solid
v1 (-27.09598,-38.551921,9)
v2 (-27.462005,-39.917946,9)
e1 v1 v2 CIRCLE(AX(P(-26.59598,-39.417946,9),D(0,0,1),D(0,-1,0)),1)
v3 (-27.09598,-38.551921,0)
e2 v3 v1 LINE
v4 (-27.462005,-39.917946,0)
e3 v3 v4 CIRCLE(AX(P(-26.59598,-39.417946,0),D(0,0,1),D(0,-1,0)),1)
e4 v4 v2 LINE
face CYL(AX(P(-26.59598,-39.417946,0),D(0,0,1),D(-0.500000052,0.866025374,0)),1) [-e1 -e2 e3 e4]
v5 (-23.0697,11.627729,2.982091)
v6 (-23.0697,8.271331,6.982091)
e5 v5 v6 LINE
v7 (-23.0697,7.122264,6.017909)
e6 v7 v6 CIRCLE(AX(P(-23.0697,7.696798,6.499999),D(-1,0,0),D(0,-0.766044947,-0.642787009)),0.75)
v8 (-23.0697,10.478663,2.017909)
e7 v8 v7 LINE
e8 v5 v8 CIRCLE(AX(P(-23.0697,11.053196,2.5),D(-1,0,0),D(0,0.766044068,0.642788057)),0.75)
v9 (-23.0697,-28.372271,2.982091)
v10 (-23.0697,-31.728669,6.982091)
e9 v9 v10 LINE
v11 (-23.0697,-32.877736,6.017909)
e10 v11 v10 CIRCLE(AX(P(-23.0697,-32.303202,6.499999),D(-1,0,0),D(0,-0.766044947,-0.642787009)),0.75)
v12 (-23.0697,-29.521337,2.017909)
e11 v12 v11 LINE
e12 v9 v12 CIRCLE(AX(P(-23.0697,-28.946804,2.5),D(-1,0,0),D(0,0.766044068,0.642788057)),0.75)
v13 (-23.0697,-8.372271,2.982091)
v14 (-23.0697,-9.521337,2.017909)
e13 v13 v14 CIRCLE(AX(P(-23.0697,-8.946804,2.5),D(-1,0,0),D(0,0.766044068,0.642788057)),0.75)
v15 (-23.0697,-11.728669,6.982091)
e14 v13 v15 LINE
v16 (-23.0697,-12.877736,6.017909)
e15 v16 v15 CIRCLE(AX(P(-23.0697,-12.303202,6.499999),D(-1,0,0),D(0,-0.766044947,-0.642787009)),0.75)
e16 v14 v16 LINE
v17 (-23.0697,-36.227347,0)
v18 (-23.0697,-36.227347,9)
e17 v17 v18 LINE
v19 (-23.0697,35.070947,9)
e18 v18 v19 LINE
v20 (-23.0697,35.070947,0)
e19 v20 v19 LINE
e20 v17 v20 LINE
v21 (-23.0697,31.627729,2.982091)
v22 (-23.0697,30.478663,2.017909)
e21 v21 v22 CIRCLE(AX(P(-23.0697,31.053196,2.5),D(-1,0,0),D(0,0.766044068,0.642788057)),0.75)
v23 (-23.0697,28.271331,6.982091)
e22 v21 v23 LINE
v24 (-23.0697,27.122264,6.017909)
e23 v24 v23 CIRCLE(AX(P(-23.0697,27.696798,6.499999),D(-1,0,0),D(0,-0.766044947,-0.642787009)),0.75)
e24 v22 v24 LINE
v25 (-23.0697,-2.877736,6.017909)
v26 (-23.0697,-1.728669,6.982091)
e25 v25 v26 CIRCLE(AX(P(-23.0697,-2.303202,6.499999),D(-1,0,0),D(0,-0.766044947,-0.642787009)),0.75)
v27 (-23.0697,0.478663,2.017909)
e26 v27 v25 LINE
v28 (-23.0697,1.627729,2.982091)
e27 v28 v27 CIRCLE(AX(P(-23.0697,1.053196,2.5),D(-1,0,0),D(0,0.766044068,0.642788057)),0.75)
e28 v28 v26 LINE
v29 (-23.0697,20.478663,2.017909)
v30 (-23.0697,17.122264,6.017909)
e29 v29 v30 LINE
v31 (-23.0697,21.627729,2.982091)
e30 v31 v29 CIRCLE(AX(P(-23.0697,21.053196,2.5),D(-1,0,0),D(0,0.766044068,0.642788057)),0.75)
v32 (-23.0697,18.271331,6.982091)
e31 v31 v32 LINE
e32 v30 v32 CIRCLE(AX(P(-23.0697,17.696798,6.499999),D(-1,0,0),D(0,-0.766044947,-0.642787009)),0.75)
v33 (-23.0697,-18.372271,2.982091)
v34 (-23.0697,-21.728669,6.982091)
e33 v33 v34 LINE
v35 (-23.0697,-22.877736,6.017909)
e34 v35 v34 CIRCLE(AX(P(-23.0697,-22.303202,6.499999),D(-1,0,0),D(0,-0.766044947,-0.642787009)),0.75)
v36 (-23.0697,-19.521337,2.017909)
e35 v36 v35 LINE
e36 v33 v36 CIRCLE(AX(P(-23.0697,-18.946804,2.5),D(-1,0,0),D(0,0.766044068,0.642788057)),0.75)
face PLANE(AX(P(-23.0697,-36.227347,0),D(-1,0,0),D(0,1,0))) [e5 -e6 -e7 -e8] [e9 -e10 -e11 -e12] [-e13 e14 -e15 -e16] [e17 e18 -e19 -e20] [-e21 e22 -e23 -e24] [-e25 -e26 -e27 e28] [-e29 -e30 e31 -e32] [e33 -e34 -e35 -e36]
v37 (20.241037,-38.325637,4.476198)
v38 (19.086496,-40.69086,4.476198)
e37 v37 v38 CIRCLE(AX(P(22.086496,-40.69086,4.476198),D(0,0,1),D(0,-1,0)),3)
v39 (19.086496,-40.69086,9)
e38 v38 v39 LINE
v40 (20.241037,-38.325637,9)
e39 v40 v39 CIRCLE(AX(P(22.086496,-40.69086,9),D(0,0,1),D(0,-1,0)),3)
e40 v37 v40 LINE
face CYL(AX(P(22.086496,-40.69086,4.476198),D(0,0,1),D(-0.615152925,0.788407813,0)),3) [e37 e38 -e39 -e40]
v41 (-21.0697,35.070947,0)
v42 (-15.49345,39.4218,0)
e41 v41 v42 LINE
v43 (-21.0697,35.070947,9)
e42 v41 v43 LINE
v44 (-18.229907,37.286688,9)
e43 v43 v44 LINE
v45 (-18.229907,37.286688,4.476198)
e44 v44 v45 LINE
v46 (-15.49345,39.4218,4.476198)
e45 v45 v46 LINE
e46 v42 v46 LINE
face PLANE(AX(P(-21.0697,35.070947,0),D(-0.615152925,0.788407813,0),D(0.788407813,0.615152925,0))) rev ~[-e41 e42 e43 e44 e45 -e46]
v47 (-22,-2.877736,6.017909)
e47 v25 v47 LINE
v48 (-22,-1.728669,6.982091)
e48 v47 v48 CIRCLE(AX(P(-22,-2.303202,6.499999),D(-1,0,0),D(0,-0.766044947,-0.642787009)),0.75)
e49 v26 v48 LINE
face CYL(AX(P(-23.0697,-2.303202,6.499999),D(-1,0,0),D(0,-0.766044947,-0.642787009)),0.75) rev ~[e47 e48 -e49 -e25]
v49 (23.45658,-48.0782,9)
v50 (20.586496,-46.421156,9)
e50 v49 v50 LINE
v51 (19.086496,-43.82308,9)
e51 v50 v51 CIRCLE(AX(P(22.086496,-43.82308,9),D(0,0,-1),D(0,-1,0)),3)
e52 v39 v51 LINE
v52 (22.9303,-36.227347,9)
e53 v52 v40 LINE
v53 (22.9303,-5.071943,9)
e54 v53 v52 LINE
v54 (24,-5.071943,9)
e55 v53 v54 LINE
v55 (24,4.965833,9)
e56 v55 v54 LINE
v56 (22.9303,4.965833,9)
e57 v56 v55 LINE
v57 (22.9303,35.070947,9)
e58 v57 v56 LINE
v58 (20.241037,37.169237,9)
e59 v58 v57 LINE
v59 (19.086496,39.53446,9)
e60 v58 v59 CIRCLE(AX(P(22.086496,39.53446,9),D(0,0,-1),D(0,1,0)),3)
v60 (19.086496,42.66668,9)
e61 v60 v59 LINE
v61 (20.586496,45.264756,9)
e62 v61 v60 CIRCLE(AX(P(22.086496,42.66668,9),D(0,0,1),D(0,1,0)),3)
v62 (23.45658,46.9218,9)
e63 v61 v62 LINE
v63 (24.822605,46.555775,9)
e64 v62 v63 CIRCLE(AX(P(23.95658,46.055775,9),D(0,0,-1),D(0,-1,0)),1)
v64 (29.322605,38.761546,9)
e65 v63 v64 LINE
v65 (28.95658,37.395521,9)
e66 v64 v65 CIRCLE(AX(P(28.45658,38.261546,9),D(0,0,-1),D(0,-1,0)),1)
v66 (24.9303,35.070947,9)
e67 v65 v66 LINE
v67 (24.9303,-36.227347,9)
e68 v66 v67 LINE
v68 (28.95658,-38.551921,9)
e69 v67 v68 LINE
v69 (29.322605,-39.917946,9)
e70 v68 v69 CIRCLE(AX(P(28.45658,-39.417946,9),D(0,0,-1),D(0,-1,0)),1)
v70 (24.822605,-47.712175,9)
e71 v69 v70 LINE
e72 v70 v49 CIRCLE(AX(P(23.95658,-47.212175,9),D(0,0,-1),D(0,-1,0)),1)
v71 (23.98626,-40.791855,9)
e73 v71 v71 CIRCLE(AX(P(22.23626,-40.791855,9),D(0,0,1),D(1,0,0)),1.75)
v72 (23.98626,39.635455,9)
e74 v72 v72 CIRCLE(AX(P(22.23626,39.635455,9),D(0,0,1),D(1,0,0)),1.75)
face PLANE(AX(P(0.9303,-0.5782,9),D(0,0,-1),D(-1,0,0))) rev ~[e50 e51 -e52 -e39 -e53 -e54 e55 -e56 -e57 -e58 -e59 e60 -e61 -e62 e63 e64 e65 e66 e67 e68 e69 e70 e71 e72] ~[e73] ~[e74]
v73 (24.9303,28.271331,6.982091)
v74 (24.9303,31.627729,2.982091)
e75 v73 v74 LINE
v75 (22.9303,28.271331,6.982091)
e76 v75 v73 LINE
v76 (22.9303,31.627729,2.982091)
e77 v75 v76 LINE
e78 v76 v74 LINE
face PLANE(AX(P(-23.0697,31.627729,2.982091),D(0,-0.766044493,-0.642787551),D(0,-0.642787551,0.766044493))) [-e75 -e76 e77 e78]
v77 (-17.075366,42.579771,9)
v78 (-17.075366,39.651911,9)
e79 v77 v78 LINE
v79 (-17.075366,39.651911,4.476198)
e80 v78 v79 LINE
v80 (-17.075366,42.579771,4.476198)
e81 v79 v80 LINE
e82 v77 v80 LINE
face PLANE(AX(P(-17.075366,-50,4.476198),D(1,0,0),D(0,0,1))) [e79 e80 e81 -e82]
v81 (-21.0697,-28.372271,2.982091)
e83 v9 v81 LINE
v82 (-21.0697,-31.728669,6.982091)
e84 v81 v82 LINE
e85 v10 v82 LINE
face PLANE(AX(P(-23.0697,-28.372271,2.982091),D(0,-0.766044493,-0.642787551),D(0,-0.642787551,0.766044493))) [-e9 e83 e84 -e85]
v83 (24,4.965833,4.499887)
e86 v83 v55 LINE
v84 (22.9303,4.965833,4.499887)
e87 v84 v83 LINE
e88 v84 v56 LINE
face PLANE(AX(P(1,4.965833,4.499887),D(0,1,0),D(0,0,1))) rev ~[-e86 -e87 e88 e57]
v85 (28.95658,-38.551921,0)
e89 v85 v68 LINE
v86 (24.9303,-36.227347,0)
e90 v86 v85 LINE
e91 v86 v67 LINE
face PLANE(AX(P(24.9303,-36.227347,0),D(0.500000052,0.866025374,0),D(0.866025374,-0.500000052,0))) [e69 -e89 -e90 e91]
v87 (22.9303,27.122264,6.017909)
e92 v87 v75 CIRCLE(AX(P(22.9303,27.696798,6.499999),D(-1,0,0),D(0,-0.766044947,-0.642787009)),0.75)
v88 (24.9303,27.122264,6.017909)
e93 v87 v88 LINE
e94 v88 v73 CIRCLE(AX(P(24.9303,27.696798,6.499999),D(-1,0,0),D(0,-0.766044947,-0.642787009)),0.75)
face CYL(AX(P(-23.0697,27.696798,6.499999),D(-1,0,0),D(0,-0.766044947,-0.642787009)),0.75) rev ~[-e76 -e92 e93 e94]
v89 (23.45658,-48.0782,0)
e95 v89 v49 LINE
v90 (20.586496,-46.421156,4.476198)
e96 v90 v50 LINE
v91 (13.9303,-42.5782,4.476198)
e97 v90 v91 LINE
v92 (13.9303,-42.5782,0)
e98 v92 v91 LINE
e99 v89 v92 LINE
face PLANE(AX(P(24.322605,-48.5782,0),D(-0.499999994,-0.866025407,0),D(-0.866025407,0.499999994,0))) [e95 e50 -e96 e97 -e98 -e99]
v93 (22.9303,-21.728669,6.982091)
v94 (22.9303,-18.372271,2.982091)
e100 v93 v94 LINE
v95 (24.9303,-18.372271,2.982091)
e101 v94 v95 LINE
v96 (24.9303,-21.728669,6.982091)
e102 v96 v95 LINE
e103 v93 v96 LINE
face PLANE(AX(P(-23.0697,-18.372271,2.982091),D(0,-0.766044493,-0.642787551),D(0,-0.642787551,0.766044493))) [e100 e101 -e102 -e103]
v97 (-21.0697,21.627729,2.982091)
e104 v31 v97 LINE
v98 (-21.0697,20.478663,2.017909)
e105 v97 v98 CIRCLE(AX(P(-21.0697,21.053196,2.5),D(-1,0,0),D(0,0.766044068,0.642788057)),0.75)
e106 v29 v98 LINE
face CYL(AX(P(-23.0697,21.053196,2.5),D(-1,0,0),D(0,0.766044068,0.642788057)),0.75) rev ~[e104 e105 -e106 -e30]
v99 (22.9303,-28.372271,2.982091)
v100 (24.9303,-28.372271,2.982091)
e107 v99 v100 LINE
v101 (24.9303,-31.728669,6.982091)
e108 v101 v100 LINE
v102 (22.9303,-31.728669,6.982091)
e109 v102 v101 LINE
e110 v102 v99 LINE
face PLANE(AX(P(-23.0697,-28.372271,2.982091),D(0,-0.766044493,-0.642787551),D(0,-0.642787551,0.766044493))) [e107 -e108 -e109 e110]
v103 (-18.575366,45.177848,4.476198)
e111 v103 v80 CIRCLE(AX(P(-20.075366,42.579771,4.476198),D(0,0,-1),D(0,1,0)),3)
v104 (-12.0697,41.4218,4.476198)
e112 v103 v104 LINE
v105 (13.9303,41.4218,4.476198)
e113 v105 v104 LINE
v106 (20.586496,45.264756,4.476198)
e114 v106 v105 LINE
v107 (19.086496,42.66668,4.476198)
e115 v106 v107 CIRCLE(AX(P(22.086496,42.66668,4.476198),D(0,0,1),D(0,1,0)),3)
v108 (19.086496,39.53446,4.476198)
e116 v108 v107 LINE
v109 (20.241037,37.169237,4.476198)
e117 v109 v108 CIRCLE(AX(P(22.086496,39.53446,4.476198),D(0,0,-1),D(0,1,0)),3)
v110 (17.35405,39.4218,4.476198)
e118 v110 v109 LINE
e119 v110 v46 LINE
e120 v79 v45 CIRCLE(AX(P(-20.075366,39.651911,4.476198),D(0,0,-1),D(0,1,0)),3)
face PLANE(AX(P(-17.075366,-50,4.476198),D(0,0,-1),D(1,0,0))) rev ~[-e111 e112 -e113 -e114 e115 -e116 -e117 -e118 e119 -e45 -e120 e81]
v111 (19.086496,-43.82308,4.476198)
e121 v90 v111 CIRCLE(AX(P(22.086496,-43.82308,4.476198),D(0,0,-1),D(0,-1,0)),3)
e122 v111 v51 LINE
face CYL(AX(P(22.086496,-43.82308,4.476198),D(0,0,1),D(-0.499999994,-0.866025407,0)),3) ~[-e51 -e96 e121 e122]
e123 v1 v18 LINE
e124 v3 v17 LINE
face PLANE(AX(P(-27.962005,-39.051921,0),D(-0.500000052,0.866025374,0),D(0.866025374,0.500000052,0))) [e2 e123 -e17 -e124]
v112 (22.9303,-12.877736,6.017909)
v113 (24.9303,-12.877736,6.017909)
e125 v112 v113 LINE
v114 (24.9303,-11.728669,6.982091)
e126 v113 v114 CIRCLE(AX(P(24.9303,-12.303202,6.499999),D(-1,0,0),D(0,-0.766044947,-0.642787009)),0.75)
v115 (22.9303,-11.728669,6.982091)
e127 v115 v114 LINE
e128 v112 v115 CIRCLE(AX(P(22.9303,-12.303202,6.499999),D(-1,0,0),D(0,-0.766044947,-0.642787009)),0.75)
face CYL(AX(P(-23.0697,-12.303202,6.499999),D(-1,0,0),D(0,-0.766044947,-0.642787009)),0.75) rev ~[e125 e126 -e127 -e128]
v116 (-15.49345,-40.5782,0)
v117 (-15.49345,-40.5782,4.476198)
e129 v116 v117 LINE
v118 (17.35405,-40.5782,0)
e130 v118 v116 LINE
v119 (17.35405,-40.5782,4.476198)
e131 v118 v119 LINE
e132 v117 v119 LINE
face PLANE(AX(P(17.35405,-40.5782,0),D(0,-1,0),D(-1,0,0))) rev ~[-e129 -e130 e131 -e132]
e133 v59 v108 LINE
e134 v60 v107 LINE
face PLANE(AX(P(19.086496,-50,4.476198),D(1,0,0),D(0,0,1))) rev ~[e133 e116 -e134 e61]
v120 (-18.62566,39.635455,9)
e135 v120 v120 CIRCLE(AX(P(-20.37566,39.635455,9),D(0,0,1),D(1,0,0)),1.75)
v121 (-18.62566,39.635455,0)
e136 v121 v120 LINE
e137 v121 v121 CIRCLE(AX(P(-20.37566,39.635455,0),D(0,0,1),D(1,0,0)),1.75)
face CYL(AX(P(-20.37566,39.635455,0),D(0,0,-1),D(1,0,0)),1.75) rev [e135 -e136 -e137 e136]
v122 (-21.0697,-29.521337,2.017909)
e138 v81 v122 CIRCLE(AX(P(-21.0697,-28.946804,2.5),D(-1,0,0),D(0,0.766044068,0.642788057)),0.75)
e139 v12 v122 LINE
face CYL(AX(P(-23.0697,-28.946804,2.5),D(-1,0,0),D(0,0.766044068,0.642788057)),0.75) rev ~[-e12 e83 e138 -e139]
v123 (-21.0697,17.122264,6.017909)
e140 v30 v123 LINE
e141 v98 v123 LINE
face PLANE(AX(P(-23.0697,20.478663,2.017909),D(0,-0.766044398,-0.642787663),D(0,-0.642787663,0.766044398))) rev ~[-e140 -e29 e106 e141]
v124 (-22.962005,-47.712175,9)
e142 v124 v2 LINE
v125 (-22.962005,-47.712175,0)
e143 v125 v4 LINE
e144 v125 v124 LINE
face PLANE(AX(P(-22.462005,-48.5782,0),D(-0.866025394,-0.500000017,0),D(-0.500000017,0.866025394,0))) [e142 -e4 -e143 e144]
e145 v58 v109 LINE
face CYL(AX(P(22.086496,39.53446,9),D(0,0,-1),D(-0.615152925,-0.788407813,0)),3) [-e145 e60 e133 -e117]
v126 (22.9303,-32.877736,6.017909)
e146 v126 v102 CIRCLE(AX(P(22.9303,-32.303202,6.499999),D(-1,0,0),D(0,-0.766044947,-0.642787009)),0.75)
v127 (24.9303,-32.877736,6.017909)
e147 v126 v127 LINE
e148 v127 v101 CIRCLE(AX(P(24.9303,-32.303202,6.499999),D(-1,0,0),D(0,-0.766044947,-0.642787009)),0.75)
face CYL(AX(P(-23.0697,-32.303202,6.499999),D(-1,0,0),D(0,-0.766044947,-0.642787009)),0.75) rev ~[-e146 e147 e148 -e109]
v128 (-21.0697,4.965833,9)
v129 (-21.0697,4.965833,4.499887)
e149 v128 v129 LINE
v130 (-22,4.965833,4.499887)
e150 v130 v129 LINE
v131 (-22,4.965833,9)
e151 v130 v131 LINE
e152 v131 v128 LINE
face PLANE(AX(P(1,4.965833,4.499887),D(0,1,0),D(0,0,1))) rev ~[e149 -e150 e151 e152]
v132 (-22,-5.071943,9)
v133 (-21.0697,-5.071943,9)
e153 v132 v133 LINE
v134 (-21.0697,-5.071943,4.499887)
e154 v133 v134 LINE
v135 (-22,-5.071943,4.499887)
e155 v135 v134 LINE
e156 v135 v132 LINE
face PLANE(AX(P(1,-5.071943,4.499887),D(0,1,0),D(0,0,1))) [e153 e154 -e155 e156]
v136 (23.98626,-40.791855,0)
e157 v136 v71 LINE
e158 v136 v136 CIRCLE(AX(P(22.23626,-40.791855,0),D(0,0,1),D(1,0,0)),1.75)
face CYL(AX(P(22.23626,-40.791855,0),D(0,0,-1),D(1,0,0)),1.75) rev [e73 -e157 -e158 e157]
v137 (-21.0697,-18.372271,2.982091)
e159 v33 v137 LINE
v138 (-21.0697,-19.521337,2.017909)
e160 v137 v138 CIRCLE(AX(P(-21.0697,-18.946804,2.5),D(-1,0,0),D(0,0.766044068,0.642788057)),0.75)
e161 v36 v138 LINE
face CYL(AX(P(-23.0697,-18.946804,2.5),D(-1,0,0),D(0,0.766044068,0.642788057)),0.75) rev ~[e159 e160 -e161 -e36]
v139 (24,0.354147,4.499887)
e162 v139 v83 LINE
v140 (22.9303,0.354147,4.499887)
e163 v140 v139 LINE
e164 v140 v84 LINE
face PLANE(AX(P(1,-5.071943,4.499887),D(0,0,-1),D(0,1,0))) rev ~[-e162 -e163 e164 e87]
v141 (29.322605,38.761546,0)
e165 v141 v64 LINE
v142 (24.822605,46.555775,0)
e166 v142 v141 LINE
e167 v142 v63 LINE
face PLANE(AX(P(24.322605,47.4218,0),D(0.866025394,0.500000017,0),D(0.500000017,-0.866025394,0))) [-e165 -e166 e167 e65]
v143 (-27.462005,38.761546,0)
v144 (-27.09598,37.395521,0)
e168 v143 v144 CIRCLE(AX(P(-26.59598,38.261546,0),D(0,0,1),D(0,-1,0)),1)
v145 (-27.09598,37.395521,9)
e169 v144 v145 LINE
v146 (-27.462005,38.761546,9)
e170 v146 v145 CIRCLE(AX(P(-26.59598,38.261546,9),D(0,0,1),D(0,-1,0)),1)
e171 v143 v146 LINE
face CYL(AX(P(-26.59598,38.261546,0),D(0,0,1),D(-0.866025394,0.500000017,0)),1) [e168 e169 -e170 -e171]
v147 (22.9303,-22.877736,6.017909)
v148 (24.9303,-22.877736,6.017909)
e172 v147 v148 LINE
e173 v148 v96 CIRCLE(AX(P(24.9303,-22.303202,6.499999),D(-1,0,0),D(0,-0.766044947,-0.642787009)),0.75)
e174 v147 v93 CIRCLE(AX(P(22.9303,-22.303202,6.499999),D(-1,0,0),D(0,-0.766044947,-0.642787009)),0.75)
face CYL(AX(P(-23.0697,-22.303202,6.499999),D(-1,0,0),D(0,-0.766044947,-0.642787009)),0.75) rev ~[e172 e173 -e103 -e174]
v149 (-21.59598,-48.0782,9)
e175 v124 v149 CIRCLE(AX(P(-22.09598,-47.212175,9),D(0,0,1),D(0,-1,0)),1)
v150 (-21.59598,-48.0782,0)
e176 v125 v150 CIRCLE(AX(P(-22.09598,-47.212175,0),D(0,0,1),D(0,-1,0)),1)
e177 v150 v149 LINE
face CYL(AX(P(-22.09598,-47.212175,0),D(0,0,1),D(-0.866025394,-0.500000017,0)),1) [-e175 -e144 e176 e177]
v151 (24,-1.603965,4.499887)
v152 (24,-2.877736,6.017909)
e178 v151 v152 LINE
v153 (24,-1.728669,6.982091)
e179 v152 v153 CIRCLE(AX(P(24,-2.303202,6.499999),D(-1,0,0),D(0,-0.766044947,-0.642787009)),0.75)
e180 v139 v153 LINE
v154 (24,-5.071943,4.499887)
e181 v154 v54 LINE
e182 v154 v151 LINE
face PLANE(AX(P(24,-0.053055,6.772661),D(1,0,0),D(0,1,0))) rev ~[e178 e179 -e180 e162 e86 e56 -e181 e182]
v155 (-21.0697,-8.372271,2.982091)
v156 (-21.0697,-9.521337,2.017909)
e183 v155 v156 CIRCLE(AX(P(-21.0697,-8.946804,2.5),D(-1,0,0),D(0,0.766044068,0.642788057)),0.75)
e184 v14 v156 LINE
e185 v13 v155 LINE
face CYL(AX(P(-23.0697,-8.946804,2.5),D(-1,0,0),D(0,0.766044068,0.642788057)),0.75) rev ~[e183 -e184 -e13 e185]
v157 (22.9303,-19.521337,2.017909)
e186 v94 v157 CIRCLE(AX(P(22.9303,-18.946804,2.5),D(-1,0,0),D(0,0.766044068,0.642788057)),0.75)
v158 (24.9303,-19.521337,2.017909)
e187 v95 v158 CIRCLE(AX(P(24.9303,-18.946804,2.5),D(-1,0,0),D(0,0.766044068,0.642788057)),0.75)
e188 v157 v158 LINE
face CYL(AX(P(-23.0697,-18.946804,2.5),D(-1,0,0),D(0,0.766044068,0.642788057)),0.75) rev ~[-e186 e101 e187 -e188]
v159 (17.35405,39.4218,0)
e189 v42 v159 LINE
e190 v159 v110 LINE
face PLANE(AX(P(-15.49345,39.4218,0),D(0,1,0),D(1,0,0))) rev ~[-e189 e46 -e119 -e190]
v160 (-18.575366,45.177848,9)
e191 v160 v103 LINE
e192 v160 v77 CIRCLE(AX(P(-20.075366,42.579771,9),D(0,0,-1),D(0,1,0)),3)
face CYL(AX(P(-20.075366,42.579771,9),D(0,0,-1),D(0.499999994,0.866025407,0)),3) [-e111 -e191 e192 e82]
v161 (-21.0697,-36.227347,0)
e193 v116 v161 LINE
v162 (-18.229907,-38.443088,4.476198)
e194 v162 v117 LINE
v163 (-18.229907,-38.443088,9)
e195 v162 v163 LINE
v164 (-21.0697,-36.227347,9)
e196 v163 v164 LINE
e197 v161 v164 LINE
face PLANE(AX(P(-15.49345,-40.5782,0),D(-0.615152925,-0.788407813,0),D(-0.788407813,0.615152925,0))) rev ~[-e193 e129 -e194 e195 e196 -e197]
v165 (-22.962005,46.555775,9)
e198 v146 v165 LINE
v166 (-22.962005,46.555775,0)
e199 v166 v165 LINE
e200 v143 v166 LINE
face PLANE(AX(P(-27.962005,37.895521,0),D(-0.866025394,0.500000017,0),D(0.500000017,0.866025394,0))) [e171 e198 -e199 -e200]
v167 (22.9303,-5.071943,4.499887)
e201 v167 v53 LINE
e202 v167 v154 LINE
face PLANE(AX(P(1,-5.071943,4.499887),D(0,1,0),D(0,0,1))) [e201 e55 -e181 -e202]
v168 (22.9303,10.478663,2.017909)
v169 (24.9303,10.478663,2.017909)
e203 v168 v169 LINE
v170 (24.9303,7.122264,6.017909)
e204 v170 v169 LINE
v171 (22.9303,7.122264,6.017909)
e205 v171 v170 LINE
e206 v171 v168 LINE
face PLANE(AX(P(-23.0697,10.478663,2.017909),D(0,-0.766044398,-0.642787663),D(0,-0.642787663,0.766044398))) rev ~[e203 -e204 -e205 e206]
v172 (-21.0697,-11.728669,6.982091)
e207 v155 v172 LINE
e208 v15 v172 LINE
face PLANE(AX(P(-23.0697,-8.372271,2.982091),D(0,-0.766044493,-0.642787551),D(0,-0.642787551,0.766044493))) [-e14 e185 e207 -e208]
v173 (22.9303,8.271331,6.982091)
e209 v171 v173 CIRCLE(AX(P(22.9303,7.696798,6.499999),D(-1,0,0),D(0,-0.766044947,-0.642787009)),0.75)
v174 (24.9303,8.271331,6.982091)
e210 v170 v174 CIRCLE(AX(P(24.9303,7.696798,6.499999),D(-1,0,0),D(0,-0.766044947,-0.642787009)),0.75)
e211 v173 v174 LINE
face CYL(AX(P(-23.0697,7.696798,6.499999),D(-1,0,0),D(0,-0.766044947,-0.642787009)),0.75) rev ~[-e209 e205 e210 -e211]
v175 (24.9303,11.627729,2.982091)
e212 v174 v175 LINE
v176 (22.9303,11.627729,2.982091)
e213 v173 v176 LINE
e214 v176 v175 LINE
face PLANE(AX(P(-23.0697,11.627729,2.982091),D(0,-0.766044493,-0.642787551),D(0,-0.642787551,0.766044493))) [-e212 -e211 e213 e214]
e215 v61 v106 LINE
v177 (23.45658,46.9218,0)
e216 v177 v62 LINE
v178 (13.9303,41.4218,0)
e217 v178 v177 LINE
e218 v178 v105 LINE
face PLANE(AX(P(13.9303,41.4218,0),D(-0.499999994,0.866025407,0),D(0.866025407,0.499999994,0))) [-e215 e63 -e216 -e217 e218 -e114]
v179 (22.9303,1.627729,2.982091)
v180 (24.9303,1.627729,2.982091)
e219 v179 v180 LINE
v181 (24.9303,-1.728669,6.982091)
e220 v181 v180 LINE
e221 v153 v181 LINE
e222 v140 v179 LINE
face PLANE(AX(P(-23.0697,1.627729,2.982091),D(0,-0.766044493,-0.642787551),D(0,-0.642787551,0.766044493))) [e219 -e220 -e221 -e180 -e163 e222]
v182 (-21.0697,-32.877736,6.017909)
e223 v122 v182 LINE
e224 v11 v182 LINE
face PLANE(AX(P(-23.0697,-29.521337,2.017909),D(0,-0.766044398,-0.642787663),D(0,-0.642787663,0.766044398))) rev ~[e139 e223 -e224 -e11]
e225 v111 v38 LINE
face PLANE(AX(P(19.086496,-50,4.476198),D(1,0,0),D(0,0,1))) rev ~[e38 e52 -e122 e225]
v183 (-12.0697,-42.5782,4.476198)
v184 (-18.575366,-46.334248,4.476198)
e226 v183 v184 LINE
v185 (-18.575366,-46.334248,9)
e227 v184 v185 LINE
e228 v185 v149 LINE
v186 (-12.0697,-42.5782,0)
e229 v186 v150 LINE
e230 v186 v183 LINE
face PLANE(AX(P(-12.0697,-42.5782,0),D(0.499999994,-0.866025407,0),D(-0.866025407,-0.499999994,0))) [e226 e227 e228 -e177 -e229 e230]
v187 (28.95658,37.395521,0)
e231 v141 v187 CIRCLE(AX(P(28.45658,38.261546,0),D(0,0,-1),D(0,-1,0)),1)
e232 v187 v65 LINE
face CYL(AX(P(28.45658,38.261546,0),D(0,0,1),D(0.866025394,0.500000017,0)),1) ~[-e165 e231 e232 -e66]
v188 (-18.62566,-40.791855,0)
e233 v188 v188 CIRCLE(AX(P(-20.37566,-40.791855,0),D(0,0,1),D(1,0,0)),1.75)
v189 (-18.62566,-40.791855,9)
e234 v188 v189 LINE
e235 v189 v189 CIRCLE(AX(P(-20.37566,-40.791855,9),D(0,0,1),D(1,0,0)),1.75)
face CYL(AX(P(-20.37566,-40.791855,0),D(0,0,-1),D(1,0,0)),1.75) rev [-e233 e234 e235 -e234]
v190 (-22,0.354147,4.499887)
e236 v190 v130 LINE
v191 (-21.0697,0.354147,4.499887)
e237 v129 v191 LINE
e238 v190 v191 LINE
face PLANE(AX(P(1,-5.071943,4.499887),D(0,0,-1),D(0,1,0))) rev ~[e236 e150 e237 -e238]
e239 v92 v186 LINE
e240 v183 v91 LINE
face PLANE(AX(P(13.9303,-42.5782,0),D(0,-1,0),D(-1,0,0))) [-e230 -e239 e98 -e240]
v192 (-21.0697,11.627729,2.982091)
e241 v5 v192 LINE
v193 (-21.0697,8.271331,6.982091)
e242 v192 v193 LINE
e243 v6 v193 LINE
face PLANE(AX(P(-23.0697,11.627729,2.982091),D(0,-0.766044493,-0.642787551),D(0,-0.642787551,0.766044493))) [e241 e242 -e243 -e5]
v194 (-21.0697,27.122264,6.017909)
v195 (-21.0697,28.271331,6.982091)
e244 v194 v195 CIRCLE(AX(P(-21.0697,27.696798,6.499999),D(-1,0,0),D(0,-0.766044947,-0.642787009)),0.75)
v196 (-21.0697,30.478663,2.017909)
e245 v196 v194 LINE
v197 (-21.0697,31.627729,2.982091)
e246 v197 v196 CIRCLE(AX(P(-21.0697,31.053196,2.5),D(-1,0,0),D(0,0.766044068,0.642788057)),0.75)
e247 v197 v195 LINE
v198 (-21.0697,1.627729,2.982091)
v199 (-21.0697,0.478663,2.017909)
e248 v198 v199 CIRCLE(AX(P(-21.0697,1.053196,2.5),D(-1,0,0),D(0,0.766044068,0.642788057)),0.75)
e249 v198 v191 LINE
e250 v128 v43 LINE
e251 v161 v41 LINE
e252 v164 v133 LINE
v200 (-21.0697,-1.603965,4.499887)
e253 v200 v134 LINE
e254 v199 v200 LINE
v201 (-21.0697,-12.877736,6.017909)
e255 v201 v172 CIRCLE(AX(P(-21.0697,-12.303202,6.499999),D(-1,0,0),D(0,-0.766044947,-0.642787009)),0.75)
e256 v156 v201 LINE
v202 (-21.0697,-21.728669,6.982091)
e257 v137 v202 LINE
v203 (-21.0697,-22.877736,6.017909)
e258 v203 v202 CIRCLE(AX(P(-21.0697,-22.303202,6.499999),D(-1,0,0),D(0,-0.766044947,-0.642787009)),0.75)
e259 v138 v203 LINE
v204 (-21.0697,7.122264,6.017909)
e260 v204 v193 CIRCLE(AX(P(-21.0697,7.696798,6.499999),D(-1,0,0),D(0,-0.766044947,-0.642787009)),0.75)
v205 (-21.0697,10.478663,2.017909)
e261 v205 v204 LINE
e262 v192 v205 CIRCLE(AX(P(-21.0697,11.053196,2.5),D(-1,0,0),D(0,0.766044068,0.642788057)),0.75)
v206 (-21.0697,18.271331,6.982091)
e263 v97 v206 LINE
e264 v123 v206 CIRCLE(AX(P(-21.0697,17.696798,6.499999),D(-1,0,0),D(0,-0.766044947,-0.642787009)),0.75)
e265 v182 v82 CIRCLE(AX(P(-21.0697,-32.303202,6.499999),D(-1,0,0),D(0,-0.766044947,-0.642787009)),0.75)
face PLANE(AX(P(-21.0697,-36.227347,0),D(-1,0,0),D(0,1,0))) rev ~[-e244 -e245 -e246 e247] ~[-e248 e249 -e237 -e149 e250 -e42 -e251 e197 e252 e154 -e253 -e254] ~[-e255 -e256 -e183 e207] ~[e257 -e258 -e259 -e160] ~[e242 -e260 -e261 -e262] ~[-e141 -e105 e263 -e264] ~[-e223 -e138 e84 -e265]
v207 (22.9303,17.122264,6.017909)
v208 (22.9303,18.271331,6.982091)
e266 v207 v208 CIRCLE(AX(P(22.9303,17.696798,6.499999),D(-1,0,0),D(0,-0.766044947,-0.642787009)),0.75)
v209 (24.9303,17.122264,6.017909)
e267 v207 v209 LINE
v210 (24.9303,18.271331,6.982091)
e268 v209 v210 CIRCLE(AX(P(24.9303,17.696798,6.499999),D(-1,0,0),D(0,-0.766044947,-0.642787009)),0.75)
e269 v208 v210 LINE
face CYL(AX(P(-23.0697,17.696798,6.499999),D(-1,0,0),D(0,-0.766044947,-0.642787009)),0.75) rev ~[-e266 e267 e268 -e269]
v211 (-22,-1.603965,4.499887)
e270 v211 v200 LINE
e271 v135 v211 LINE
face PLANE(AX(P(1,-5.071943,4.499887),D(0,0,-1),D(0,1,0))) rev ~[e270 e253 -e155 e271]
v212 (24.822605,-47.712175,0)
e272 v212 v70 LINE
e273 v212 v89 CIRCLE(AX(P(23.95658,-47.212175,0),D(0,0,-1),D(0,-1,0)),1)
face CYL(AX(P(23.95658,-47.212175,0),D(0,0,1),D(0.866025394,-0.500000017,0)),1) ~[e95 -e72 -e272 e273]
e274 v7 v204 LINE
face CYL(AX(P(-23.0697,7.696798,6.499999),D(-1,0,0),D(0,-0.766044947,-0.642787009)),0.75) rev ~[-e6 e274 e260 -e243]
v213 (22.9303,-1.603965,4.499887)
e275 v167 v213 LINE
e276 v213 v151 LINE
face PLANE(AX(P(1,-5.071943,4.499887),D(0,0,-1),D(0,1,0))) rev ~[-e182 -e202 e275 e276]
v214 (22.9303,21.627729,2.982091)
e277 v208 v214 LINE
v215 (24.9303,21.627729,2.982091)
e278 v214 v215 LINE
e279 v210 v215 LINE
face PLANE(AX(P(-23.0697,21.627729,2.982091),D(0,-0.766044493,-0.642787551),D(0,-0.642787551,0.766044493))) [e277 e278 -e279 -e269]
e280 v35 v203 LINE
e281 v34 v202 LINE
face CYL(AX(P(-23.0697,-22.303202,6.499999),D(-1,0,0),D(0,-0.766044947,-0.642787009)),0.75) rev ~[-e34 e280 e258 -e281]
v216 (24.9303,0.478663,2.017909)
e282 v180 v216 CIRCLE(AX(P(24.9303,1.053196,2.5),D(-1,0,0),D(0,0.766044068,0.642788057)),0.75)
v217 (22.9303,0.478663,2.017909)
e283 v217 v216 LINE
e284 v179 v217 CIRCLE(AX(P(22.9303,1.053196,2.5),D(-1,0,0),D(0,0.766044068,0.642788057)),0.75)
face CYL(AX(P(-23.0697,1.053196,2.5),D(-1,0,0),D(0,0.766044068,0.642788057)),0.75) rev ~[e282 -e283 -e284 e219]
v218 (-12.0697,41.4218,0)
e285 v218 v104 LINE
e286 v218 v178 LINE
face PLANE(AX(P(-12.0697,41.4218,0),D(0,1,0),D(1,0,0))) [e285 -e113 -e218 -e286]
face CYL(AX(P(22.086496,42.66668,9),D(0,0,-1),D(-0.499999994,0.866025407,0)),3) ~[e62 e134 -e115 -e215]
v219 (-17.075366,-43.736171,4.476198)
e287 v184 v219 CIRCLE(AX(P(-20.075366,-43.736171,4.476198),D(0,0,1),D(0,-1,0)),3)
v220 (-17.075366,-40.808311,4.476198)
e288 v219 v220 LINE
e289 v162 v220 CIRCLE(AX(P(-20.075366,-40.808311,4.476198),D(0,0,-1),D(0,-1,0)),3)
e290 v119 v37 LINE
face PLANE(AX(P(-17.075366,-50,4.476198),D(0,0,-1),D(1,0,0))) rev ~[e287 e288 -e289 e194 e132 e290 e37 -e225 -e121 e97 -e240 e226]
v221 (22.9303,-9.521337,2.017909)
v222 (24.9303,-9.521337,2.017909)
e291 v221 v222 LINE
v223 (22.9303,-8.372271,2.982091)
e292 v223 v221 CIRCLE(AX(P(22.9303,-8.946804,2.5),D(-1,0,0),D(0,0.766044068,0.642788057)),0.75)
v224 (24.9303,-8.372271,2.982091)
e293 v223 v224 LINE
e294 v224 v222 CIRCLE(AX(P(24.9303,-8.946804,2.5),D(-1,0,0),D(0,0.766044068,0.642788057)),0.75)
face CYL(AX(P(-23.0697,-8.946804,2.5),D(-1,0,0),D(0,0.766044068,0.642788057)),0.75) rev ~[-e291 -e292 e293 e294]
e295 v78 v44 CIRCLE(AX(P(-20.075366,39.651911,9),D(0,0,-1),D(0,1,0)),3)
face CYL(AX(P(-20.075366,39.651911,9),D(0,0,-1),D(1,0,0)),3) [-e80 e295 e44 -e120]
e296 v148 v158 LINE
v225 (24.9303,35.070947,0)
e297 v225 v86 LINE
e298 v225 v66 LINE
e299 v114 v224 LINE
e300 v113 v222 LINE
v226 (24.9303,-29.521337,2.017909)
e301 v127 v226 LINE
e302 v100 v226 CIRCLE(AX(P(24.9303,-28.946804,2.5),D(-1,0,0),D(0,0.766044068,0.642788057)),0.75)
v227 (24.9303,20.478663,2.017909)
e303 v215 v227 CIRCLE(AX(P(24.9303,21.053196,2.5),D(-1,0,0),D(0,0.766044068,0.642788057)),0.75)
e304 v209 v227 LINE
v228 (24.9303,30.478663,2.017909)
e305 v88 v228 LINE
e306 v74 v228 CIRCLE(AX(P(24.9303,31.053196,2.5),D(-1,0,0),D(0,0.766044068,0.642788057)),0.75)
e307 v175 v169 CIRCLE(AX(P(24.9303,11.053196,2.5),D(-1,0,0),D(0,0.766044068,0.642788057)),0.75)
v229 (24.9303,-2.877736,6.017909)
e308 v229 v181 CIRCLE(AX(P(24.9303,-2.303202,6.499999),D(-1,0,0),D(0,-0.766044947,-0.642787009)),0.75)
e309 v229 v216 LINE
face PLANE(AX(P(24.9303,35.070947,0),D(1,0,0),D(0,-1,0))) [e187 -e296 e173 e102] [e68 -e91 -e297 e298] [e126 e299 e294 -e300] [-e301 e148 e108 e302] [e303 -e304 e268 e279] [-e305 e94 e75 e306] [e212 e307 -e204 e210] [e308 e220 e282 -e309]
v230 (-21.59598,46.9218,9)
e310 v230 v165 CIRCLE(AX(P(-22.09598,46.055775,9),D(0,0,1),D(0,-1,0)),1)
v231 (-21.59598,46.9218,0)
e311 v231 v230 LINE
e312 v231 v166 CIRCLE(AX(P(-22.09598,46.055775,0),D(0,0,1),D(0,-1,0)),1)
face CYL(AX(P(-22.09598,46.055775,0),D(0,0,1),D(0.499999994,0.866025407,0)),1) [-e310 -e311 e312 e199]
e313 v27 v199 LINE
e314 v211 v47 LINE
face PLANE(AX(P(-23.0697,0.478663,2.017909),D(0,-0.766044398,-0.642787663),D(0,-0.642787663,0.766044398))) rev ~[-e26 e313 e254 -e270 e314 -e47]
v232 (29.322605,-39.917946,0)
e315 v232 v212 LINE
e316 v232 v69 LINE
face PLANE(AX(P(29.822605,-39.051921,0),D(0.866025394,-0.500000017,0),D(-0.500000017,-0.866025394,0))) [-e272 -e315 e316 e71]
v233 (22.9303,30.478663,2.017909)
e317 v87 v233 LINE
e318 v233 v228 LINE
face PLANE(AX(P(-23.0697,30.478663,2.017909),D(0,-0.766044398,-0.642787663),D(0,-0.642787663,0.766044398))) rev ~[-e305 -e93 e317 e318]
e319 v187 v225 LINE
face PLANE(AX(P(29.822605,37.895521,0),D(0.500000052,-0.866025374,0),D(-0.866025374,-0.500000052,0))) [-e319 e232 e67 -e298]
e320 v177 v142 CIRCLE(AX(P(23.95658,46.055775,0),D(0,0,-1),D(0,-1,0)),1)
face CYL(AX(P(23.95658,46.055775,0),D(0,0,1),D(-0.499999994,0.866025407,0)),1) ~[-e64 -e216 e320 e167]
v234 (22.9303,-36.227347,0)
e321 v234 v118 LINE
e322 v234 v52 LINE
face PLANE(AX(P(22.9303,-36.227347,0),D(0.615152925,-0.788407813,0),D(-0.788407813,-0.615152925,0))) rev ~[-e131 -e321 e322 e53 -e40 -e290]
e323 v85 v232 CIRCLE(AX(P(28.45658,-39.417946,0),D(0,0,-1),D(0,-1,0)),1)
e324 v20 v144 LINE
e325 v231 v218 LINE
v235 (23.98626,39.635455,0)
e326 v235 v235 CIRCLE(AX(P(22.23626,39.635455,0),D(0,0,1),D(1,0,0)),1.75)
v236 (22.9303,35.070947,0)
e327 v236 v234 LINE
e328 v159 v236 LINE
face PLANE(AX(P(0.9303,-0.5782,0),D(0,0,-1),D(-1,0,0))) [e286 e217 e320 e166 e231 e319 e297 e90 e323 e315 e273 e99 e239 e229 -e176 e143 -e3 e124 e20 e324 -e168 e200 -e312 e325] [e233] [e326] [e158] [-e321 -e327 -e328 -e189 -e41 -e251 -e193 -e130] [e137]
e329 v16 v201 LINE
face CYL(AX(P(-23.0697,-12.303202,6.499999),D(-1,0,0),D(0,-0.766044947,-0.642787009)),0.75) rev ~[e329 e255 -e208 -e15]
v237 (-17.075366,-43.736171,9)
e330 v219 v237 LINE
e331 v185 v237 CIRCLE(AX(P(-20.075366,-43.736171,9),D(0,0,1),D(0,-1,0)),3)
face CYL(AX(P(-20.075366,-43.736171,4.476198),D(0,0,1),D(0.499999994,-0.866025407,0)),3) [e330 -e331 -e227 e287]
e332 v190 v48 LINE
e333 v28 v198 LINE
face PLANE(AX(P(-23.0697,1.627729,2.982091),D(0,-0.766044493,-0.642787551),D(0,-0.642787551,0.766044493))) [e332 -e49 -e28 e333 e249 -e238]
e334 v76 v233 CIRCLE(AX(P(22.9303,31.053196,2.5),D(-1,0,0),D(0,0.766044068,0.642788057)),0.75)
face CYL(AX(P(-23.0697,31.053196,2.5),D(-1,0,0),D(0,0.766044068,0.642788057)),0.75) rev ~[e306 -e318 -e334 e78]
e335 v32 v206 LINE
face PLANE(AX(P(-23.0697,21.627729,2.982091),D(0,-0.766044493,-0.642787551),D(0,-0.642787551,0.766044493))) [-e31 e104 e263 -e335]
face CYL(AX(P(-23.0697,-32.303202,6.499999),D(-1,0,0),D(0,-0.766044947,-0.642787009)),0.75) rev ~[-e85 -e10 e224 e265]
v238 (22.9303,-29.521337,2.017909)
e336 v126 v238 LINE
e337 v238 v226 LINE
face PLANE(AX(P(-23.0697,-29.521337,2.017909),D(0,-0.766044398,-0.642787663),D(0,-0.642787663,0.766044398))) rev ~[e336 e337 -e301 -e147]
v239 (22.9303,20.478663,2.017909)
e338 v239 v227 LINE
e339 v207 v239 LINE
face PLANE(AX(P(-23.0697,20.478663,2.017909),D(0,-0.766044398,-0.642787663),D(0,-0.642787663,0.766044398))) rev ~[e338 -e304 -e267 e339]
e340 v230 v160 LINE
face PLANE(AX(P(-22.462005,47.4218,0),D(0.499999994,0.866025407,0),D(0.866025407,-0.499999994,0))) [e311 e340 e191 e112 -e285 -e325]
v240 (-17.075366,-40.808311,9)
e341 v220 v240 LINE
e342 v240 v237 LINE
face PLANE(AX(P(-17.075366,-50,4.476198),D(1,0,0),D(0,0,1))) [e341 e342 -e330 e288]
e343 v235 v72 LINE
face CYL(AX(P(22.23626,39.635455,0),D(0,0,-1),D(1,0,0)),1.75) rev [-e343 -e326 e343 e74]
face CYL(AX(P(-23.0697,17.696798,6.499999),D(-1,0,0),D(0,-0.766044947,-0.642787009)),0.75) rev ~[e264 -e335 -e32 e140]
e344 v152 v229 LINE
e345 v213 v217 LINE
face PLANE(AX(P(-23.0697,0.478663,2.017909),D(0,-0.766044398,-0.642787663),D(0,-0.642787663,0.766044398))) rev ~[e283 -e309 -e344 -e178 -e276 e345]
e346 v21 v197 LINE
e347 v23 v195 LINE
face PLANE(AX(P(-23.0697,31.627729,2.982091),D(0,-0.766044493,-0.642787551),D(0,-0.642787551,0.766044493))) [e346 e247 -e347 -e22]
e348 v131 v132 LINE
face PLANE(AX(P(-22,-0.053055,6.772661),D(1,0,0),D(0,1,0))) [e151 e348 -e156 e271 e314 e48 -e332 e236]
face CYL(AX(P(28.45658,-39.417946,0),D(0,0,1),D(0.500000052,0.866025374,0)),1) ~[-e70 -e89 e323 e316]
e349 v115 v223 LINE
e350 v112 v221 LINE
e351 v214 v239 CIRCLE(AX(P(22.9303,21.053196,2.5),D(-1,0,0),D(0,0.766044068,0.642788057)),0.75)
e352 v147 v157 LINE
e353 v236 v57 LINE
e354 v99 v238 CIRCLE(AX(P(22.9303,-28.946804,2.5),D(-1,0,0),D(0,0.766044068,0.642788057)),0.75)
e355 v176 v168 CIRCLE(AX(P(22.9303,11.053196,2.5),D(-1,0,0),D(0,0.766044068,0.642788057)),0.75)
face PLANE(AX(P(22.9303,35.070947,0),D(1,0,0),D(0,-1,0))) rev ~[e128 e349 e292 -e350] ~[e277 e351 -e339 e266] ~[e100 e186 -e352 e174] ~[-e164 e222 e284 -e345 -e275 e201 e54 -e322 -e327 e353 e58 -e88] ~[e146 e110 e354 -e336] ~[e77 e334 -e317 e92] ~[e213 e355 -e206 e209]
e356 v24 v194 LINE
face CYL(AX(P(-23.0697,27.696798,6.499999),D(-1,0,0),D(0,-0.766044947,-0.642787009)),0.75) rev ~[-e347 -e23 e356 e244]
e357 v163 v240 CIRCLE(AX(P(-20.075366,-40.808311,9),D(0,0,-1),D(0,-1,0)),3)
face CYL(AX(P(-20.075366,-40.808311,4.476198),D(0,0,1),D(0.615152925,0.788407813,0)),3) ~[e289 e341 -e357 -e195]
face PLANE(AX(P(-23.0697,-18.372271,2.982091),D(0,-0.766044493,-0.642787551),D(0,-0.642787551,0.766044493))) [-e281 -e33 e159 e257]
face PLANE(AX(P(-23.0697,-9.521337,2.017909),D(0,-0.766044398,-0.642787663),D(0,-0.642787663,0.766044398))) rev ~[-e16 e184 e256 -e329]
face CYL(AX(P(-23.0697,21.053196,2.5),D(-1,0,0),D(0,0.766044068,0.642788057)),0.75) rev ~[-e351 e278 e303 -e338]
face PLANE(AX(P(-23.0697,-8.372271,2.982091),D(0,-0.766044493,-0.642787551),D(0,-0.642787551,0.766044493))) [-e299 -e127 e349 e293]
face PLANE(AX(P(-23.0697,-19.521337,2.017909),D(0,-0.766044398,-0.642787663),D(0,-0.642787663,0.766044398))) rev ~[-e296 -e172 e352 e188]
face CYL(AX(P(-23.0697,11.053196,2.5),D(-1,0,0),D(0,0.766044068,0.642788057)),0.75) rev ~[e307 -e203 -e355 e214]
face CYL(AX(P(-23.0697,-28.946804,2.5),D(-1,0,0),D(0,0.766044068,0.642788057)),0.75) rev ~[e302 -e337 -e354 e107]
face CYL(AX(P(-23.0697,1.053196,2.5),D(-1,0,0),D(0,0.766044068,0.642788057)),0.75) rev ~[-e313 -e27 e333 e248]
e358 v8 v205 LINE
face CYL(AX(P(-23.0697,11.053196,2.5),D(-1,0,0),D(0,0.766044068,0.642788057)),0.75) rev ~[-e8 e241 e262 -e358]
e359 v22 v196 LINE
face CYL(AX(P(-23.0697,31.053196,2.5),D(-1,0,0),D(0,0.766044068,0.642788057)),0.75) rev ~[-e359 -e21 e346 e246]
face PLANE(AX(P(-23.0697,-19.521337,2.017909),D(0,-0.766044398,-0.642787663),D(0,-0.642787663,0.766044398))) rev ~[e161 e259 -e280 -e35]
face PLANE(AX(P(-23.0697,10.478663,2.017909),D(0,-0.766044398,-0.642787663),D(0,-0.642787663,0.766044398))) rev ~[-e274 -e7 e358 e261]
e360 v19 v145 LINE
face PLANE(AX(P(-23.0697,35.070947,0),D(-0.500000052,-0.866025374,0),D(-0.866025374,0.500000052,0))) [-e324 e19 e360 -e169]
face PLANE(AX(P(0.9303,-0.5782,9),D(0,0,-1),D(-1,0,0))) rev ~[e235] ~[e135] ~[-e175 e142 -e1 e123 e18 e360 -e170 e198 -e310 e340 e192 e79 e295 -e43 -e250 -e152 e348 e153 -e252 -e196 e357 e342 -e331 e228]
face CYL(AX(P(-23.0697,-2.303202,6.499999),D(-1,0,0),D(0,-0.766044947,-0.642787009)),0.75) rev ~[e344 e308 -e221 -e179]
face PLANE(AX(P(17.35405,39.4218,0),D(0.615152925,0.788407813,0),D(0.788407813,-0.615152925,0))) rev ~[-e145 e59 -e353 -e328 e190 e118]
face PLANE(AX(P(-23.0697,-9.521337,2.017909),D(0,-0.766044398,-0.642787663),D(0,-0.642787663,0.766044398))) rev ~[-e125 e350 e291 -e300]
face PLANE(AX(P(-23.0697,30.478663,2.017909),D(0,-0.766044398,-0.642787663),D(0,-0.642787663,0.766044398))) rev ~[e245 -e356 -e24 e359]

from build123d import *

# Parameters (mm, degrees)
SKETCH005_W   = 10.037777
SKETCH005_H   = 4.545547
PAD003_DEPTH  = 23
SKETCH004_W   = 36.161861
SKETCH004_H   = 4.748486
PAD002_DEPTH  = 100
PAD001_DEPTH  = 50
ARRAY_Y_COUNT = 7
ARRAY_Y_PITCH = 10
SKETCH_R      = 1.75
PAD_DEPTH     = 9
FILLET_R      = 1
FILLET002_R   = 3


with BuildPart() as pad003:
    # Sketch005 → Pad003 (new body, symmetric)
    with BuildSketch(Plane.YZ.offset(1)):
        with Locations((-0.053055, 6.772661)):
            Rectangle(SKETCH005_W, SKETCH005_H)
    extrude(amount=PAD003_DEPTH, both=True)


with BuildPart() as pad002:
    # Sketch004 → Pad002 (new body)
    with BuildSketch(Plane(origin=(1, -50, 0), x_dir=(1, 0, 0), z_dir=(0, -1, 0))):
        with Locations((0.005565, 6.850441)):
            Rectangle(SKETCH004_W, SKETCH004_H)
    extrude(amount=-PAD002_DEPTH)


with BuildPart() as array:
    # Sketch003 → Pad001 (new body)
    with BuildSketch(Plane(origin=(-23.0697, 0, 0), x_dir=(0, -1, 0), z_dir=(-1, 0, 0))):
        with BuildLine():
            Line((-1.127729, 2.982091), (2.228669, 6.982091))
            ThreePointArc((3.377736, 6.017909), (3.285293, 7.074533), (2.228669, 6.982091))
            Line((0.021337, 2.017909), (3.377736, 6.017909))
            ThreePointArc((-1.127729, 2.982091), (-1.035287, 1.925467), (0.021337, 2.017909))
        make_face()
    extrude(amount=-PAD001_DEPTH)

    # Array Y: Array ×7


with BuildPart() as array_1:
    add(array.part)
    with Locations(*[(0, i * ARRAY_Y_PITCH, 0) for i in range(1, ARRAY_Y_COUNT)]):
        add(array.part)


with BuildPart() as array_2:
    # Array placement: moved
    add(array_1.part.moved(Location((0, -29.5, 0))))


with BuildPart() as cut002:
    # Sketch → Pad (new body)
    with BuildSketch(Plane.XY):
        Polygon((-12.0697, 41.4218), (13.9303, 41.4218), (24.322605, 47.4218), (29.822605, 37.895521), (24.9303, 35.070947), (24.9303, -36.227347), (29.822605, -39.051921), (24.322605, -48.5782), (13.9303, -42.5782), (-12.0697, -42.5782), (-22.462005, -48.5782), (-27.962005, -39.051921), (-23.0697, -36.227347), (-23.0697, 35.070947), (-27.962005, 37.895521), (-22.462005, 47.4218), align=None)
        with Locations((-20.37566, -40.791855)):
            Circle(SKETCH_R, mode=Mode.SUBTRACT)
        with Locations((22.23626, -40.791855)):
            Circle(SKETCH_R, mode=Mode.SUBTRACT)
        with Locations((22.23626, 39.635455)):
            Circle(SKETCH_R, mode=Mode.SUBTRACT)
        with Locations((-20.37566, 39.635455)):
            Circle(SKETCH_R, mode=Mode.SUBTRACT)
        Polygon((22.9303, 35.070947), (22.9303, -36.227347), (17.35405, -40.5782), (-15.49345, -40.5782), (-21.0697, -36.227347), (-21.0697, 35.070947), (-15.49345, 39.4218), (17.35405, 39.4218), align=None, mode=Mode.SUBTRACT)
    extrude(amount=PAD_DEPTH)

    # Fillet
    fillet_edges = [cut002.edges().sort_by_distance(p)[0] for p in [
        (-22.462005, 47.4218, 4.5),
        (24.322605, 47.4218, 4.5),
        (29.822605, 37.895521, 4.5),
        (29.822605, -39.051921, 4.5),
        (24.322605, -48.5782, 4.5),
        (-22.462005, -48.5782, 4.5),
        (-27.962005, -39.051921, 4.5),
        (-27.962005, 37.895521, 4.5),
    ]]
    fillet(fillet_edges, radius=FILLET_R)

    # Cut: cut Array
    add(array_2.part, mode=Mode.SUBTRACT)

    # Cut001: cut Pad002
    add(pad002.part, mode=Mode.SUBTRACT)

    # Fillet002
    fillet002_edges = [cut002.edges().sort_by_distance(p)[0] for p in [
        (-17.075366, -39.343915, 6.738099),
        (-17.075366, -45.468223, 6.738099),
        (19.086495, -45.555131, 6.738099),
        (19.086495, -39.226465, 6.738099),
        (-17.075366, 44.311823, 6.738099),
        (-17.075366, 38.187515, 6.738099),
        (19.086495, 44.398731, 6.738099),
        (19.086495, 38.070065, 6.738099),
    ]]
    fillet(fillet002_edges, radius=FILLET002_R)

    # Cut002: cut Pad003
    add(pad003.part, mode=Mode.SUBTRACT)


solid = cut002.part
